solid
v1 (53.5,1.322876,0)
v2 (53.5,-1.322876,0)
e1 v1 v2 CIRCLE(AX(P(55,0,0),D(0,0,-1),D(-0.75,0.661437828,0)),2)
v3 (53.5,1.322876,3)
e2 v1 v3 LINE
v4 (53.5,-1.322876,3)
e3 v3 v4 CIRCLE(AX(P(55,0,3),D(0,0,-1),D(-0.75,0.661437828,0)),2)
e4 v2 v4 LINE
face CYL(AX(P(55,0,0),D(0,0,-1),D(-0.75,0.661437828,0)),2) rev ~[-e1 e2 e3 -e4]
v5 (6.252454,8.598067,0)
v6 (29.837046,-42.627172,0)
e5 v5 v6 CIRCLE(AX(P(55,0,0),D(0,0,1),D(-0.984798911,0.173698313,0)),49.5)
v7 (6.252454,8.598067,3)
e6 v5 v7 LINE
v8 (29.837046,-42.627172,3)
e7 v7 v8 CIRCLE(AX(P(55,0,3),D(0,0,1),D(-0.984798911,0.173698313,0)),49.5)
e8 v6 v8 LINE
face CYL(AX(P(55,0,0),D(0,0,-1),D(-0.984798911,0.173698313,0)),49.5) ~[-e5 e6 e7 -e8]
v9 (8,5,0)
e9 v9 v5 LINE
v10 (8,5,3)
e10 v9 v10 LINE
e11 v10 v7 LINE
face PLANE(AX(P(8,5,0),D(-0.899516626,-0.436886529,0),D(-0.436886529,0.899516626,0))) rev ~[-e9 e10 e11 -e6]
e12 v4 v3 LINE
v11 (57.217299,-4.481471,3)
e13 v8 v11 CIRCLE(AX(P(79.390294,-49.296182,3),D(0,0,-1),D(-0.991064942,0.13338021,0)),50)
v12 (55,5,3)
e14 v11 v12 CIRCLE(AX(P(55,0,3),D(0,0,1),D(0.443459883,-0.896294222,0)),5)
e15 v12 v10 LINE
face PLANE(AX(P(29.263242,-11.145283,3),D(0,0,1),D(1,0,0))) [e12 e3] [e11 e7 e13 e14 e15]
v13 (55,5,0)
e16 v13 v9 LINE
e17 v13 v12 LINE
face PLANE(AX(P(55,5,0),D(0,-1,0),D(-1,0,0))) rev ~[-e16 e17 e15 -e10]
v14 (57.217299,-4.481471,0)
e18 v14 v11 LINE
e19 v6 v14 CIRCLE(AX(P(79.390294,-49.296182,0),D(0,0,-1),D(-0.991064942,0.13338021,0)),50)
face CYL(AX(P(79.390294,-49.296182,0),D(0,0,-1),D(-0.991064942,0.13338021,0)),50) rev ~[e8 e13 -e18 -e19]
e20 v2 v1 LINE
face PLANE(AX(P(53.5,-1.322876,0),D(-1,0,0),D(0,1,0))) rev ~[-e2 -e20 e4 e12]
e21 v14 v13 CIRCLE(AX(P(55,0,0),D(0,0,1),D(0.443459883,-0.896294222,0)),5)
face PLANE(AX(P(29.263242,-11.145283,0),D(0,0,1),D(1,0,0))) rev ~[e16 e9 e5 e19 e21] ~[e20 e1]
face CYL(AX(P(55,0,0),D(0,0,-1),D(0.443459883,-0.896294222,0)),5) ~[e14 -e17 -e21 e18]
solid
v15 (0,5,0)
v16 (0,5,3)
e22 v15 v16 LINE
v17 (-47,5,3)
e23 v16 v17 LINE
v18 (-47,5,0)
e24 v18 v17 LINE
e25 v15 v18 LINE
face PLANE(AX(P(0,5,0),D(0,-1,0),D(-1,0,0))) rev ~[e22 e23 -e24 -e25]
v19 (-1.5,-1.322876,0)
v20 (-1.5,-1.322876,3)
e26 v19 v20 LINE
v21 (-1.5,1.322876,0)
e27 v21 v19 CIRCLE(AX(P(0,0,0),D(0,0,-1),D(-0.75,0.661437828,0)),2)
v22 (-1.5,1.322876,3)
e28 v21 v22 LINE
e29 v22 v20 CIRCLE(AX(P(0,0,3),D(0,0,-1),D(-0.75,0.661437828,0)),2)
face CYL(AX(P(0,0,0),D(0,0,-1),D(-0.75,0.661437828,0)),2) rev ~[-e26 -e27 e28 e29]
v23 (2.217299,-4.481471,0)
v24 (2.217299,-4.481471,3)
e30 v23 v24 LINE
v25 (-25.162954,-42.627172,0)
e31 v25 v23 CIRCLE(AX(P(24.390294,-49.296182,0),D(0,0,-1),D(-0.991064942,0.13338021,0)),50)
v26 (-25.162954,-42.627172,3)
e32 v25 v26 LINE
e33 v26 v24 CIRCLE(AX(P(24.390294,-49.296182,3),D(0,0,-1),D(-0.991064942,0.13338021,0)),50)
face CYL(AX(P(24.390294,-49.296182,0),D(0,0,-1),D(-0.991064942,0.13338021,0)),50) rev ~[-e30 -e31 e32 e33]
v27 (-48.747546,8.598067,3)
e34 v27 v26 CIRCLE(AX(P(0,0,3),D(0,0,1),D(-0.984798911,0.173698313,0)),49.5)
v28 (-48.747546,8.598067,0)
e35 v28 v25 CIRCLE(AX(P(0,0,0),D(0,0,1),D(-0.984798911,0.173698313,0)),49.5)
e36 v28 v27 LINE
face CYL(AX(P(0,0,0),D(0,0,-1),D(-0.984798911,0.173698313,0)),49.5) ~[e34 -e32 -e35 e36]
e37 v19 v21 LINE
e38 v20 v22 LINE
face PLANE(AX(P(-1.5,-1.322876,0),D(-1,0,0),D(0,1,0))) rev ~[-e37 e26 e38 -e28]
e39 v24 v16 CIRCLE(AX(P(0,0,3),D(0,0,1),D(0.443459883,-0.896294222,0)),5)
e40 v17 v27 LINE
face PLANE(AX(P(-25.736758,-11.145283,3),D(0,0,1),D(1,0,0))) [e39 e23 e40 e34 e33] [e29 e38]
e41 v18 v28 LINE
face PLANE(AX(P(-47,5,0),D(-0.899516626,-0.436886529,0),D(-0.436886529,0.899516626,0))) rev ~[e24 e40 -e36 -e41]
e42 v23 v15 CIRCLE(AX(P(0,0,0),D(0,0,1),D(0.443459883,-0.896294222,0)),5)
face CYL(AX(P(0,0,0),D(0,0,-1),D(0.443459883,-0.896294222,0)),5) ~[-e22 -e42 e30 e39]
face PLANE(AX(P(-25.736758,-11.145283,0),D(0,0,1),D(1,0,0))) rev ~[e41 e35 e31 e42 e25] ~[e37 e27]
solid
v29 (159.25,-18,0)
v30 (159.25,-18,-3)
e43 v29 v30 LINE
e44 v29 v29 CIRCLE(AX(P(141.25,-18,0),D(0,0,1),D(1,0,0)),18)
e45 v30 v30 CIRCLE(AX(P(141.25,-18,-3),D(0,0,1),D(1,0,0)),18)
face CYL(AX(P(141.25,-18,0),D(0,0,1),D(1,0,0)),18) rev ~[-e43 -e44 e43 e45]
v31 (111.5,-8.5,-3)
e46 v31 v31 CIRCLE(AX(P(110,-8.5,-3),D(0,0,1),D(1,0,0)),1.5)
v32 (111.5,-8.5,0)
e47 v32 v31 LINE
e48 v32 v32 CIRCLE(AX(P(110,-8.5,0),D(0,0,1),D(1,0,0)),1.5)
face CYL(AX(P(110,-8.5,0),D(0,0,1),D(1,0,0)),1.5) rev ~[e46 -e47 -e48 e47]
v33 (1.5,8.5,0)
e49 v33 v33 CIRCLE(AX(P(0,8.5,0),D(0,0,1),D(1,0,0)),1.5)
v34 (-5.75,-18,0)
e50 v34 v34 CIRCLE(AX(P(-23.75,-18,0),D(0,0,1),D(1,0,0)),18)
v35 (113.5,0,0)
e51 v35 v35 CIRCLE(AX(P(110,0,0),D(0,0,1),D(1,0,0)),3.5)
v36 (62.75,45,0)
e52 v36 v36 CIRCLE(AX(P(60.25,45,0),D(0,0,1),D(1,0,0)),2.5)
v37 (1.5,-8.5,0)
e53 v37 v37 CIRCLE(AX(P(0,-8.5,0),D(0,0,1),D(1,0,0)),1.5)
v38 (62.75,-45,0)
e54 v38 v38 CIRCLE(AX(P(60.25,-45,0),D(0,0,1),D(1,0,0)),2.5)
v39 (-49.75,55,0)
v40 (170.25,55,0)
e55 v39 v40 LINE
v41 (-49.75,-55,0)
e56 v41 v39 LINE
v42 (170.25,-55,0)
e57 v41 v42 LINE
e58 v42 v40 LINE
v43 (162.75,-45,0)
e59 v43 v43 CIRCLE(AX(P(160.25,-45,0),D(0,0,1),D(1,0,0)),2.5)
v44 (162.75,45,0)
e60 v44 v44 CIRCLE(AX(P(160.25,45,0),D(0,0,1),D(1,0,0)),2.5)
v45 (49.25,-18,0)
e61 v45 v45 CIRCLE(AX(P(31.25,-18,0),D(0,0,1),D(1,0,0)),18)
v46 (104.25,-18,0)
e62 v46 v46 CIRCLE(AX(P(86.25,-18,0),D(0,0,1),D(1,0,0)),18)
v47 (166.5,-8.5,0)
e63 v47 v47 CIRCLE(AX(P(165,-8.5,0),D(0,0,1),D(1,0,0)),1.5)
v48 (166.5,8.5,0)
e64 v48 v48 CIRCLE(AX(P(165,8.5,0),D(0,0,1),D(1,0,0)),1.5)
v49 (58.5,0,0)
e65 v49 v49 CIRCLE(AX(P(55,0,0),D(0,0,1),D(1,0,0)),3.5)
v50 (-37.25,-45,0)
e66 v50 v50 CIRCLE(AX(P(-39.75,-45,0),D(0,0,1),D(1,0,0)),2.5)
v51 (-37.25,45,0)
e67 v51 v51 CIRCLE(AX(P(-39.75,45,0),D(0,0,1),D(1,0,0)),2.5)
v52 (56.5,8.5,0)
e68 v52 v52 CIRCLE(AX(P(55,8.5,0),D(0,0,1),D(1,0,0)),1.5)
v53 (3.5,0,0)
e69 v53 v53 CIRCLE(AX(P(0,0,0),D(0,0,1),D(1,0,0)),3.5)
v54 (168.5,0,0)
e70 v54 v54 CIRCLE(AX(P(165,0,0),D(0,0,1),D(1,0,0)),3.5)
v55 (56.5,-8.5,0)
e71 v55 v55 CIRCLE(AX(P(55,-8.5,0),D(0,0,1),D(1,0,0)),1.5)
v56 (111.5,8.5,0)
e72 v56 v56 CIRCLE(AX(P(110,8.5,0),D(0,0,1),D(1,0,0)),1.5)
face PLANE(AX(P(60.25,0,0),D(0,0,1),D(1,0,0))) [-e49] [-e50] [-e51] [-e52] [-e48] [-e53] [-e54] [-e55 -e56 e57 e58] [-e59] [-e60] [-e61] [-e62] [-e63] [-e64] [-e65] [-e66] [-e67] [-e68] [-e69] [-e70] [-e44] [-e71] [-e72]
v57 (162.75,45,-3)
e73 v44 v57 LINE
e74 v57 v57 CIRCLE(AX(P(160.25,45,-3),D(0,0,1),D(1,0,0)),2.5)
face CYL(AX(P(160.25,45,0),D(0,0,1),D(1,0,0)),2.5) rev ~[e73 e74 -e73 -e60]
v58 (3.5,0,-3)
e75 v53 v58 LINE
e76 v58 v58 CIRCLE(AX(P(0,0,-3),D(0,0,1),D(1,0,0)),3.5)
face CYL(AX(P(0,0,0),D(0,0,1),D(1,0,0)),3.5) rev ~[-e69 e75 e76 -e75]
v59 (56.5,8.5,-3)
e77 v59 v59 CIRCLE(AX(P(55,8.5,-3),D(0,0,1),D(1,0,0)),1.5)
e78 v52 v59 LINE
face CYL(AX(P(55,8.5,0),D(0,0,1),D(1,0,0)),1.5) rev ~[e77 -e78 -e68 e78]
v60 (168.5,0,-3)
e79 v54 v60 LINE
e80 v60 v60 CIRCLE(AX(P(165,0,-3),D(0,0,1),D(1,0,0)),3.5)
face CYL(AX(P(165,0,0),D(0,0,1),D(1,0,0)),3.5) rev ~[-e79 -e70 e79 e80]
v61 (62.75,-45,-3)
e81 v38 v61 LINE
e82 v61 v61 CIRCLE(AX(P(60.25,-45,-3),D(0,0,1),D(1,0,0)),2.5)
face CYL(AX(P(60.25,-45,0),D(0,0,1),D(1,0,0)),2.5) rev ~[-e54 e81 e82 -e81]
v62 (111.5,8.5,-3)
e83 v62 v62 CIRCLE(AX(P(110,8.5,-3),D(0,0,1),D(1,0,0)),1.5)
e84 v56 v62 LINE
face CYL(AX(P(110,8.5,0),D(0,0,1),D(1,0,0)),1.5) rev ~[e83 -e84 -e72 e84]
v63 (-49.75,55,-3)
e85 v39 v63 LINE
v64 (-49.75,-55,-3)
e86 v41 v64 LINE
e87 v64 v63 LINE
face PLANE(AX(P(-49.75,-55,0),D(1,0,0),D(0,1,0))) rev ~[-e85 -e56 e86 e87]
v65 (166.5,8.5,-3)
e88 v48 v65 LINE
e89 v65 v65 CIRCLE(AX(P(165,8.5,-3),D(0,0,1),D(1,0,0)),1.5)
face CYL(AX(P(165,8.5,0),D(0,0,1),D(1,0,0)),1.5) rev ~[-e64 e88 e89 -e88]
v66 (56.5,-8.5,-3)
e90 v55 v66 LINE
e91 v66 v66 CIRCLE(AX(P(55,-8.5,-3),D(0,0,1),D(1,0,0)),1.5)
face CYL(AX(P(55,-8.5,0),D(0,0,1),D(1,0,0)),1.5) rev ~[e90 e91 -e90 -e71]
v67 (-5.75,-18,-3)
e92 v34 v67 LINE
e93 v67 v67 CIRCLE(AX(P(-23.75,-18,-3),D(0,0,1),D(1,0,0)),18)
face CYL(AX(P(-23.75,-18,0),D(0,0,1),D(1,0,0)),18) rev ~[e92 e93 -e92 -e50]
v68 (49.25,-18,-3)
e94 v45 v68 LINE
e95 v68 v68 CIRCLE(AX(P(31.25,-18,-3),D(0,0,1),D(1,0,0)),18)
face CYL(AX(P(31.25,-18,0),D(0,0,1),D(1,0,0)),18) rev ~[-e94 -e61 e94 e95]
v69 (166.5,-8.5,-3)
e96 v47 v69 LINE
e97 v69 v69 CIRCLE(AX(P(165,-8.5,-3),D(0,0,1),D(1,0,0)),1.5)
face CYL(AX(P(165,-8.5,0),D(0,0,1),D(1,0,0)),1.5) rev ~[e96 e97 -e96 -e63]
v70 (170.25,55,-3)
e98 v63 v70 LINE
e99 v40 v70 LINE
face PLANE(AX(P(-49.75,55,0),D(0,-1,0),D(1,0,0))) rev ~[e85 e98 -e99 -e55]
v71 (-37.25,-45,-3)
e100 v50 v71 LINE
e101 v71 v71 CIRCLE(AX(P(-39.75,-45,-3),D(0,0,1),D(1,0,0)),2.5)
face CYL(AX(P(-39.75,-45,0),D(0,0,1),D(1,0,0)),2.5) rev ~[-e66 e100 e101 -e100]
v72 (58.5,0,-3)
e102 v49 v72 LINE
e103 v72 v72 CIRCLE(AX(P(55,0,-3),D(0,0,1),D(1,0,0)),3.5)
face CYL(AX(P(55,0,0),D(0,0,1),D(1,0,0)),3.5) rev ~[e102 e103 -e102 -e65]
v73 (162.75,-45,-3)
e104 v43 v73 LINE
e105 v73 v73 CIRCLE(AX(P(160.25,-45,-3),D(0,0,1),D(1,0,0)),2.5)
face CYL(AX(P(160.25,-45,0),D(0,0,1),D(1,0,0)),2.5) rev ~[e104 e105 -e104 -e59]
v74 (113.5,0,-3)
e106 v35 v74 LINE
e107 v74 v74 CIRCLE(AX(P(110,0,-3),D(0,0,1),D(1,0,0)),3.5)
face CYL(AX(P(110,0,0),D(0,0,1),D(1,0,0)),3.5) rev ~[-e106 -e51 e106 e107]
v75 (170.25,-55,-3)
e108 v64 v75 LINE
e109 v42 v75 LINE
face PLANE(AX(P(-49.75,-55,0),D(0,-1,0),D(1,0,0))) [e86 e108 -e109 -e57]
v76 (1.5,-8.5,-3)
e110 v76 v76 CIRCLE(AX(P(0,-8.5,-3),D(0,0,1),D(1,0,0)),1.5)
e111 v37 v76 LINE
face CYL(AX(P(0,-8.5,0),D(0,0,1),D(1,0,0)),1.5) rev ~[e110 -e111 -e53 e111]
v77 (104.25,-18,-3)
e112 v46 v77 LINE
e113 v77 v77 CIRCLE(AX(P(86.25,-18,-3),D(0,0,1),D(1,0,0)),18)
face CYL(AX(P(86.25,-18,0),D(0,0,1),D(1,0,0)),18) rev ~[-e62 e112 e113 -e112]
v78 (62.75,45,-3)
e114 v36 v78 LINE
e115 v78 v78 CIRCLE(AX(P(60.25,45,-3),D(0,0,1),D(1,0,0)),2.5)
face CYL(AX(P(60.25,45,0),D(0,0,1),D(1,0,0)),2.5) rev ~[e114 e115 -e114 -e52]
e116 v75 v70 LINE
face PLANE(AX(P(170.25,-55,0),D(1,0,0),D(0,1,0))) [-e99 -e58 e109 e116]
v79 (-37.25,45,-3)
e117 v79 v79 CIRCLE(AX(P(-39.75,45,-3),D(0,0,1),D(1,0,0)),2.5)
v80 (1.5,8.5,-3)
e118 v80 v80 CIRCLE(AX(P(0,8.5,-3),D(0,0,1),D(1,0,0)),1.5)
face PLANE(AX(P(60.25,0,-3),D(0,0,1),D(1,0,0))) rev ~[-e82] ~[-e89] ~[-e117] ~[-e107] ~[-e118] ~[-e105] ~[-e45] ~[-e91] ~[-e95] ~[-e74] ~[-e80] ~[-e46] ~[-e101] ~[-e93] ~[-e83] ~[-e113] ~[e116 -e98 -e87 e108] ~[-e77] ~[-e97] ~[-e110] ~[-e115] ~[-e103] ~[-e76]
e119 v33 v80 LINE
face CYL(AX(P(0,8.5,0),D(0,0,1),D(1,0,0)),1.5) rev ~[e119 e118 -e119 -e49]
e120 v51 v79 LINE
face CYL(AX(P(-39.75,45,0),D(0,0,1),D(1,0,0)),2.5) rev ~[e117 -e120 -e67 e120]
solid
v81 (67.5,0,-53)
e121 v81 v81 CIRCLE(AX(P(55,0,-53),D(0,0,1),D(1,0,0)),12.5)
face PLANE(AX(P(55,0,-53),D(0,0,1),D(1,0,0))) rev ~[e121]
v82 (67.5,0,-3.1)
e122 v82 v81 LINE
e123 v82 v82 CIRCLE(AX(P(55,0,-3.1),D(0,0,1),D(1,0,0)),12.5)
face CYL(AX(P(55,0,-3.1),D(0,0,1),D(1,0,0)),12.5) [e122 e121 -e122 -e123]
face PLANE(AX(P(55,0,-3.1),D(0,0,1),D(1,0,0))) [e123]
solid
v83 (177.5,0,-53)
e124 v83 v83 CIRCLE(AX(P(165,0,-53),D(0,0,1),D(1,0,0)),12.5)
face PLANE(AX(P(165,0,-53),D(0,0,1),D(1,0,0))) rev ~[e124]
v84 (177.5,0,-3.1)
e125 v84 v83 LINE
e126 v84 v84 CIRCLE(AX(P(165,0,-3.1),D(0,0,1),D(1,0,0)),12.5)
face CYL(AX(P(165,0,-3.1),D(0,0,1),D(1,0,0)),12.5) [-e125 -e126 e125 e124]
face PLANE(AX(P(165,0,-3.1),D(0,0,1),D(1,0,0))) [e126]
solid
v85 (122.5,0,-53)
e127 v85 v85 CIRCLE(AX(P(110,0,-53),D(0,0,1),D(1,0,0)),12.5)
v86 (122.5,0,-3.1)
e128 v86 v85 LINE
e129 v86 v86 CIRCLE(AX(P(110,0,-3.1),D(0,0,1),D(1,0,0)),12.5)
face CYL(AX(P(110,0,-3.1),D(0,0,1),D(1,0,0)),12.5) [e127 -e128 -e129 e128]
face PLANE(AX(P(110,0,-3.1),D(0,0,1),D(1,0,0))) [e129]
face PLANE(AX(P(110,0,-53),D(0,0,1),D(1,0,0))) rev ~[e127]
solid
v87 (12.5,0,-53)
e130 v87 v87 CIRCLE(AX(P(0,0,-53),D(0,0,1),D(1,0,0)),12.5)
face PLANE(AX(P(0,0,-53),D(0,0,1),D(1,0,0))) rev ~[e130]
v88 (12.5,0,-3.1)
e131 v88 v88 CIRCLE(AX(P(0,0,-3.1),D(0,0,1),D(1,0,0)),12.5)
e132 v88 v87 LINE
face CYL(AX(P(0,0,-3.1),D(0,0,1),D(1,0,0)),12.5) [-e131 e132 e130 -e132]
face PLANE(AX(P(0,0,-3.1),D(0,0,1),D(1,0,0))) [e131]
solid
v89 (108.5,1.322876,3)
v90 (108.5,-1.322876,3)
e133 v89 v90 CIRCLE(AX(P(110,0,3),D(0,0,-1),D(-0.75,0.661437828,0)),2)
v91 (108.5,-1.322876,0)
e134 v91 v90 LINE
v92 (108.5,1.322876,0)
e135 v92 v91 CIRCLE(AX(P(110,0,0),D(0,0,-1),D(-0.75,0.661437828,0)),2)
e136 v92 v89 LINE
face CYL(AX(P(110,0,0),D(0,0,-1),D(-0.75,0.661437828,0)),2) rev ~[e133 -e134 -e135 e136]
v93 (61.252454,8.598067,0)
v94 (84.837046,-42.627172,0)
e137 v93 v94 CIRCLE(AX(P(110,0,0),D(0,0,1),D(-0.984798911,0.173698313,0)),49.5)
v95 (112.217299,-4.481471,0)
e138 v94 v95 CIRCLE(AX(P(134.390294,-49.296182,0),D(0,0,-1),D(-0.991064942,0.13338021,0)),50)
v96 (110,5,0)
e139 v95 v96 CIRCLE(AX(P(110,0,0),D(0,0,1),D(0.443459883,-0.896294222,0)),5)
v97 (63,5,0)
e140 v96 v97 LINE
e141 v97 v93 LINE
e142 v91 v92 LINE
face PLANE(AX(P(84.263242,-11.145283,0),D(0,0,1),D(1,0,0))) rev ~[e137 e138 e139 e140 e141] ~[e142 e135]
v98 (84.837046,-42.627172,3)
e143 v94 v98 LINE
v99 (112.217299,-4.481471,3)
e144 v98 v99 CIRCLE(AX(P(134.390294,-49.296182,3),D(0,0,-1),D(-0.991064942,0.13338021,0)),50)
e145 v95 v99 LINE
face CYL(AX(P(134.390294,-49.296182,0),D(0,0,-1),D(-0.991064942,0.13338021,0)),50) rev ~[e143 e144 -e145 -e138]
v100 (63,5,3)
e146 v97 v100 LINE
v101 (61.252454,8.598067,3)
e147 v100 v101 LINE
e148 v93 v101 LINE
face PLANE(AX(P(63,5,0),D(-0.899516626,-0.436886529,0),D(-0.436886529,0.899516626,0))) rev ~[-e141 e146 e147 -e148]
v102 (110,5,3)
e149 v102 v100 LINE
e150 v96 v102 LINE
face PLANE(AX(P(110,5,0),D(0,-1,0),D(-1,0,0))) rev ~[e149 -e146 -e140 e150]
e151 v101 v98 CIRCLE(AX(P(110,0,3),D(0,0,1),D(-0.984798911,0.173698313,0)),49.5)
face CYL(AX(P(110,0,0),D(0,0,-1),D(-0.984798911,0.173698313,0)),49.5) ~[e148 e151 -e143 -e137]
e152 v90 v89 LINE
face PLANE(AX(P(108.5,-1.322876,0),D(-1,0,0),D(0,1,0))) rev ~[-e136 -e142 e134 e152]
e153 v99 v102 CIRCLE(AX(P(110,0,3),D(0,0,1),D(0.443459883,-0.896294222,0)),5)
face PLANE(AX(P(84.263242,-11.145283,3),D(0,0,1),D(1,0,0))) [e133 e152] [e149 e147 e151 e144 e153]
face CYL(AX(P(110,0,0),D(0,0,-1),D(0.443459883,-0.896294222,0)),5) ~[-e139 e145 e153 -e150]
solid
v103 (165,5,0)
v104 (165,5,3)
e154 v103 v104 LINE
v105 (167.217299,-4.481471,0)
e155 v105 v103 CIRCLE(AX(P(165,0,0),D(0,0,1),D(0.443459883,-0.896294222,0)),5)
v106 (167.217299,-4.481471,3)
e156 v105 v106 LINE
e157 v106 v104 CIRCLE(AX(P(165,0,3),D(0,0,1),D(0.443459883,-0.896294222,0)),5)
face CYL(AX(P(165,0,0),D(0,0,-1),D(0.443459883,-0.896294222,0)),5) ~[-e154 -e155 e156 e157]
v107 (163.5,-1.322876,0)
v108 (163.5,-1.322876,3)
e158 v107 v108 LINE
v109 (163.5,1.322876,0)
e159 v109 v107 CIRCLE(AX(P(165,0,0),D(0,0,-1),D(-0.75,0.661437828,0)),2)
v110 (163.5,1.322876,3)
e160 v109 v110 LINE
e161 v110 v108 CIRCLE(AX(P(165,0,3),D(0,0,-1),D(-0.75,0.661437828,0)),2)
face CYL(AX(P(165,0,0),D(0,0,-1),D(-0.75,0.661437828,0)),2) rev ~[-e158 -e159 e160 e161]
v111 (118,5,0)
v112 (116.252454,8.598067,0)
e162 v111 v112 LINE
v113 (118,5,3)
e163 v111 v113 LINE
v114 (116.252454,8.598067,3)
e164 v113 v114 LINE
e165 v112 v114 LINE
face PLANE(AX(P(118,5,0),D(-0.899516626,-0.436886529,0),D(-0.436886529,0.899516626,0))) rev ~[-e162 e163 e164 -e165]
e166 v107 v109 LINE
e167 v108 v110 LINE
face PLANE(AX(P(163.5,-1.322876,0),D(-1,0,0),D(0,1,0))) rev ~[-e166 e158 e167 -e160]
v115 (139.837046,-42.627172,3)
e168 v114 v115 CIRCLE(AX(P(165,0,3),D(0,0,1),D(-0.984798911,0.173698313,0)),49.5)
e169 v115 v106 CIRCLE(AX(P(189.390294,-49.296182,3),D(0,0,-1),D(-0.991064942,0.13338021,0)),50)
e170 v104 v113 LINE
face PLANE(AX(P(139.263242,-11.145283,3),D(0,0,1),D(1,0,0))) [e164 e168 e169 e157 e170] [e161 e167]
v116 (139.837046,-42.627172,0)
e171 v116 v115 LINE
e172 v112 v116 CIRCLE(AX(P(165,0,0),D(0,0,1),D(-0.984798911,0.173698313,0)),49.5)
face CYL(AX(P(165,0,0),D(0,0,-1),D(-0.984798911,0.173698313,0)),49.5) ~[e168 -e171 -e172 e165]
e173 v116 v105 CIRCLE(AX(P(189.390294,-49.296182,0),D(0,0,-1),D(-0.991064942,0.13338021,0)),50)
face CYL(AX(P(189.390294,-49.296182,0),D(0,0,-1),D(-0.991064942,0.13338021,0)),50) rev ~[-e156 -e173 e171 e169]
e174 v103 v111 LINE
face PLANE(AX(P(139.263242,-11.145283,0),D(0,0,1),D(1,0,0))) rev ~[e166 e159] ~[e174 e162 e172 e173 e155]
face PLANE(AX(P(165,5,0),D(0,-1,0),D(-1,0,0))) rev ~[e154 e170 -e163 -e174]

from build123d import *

# Parameters (mm, degrees)
F3_DEPTH = 3
F1_W     = 220
F1_H     = 110
F1_R     = 2.5
F1_R_2   = 18
F1_R_3   = 1.5
F1_R_4   = 3.5
F4_DEPTH = 3
F5_START = -3.1
F2_R     = 12.5
F5_DEPTH = 49.9


with BuildPart() as f3:
    # F0 (on Top) → F3 (new body)
    with BuildSketch(Plane.XY):
        with BuildLine():
            Line((-47, 5), (-48.7475461165, 8.5980665045))
            ThreePointArc((-48.7475461165, 8.5980665045), (-44.9632822197, -20.7015277704), (-25.1629535503, -42.6271717174))
            ThreePointArc((-25.1629535503, -42.6271717174), (-16.2291234704, -20.1403429939), (2.2172994145, -4.4814711096))
            ThreePointArc((2.2172994145, -4.4814711096), (4.8686422927, 1.1385614722), (0, 5))
            Line((0, 5), (-47, 5))
        make_face()
        with BuildLine():
            Line((-1.5, -1.3228756555), (-1.5, 1.3228756555))
            ThreePointArc((-1.5, 1.3228756555), (2, 0), (-1.5, -1.3228756555))
        make_face(mode=Mode.SUBTRACT)
    extrude(amount=F3_DEPTH)


with BuildPart() as f3b:
    # F0 (on Top) → F3, piece 2 (new body)
    with BuildSketch(Plane.XY):
        with BuildLine():
            ThreePointArc((29.8370464497, -42.6271717174), (38.7708765296, -20.1403429939), (57.2172994145, -4.4814711096))
            ThreePointArc((57.2172994145, -4.4814711096), (59.8686422927, 1.1385614722), (55, 5))
            Line((55, 5), (8, 5))
            Line((8, 5), (6.2524538835, 8.5980665045))
            ThreePointArc((6.2524538835, 8.5980665045), (10.0367177803, -20.7015277704), (29.8370464497, -42.6271717174))
        make_face()
        with BuildLine():
            Line((53.5, -1.3228756555), (53.5, 1.3228756555))
            ThreePointArc((53.5, 1.3228756555), (57, 0), (53.5, -1.3228756555))
        make_face(mode=Mode.SUBTRACT)
    extrude(amount=F3_DEPTH)


with BuildPart() as f3c:
    # F0 (on Top) → F3, piece 3 (new body)
    with BuildSketch(Plane.XY):
        with BuildLine():
            ThreePointArc((84.8370464497, -42.6271717174), (93.7708765296, -20.1403429939), (112.2172994145, -4.4814711096))
            ThreePointArc((112.2172994145, -4.4814711096), (114.8686422927, 1.1385614722), (110, 5))
            Line((110, 5), (63, 5))
            Line((63, 5), (61.2524538835, 8.5980665045))
            ThreePointArc((61.2524538835, 8.5980665045), (65.0367177803, -20.7015277704), (84.8370464497, -42.6271717174))
        make_face()
        with BuildLine():
            Line((108.5, -1.3228756555), (108.5, 1.3228756555))
            ThreePointArc((108.5, 1.3228756555), (112, 0), (108.5, -1.3228756555))
        make_face(mode=Mode.SUBTRACT)
    extrude(amount=F3_DEPTH)


with BuildPart() as f3d:
    # F0 (on Top) → F3, piece 4 (new body)
    with BuildSketch(Plane.XY):
        with BuildLine():
            ThreePointArc((139.8370464497, -42.6271717174), (148.7708765296, -20.1403429939), (167.2172994145, -4.4814711096))
            ThreePointArc((167.2172994145, -4.4814711096), (169.8686422927, 1.1385614722), (165, 5))
            Line((165, 5), (118, 5))
            Line((118, 5), (116.2524538835, 8.5980665045))
            ThreePointArc((116.2524538835, 8.5980665045), (120.0367177803, -20.7015277704), (139.8370464497, -42.6271717174))
        make_face()
        with BuildLine():
            Line((163.5, -1.3228756555), (163.5, 1.3228756555))
            ThreePointArc((163.5, 1.3228756555), (167, 0), (163.5, -1.3228756555))
        make_face(mode=Mode.SUBTRACT)
    extrude(amount=F3_DEPTH)


with BuildPart() as f4:
    # F1 (on Top) → F4 (new body)
    with BuildSketch(Plane.XY):
        with Locations((60.25, 0)):
            Rectangle(F1_W, F1_H)
        with Locations((-39.75, -45)):
            Circle(F1_R, mode=Mode.SUBTRACT)
        with Locations((-23.75, -18)):
            Circle(F1_R_2, mode=Mode.SUBTRACT)
        with Locations((0, -8.5)):
            Circle(F1_R_3, mode=Mode.SUBTRACT)
        with Locations((31.25, -18)):
            Circle(F1_R_2, mode=Mode.SUBTRACT)
        with Locations((55, -8.5)):
            Circle(F1_R_3, mode=Mode.SUBTRACT)
        with Locations((60.25, -45)):
            Circle(F1_R, mode=Mode.SUBTRACT)
        with Locations((160.25, -45)):
            Circle(F1_R, mode=Mode.SUBTRACT)
        with Locations((86.25, -18)):
            Circle(F1_R_2, mode=Mode.SUBTRACT)
        with Locations((110, -8.5)):
            Circle(F1_R_3, mode=Mode.SUBTRACT)
        with Locations((141.25, -18)):
            Circle(F1_R_2, mode=Mode.SUBTRACT)
        with Locations((165, -8.5)):
            Circle(F1_R_3, mode=Mode.SUBTRACT)
        Circle(F1_R_4, mode=Mode.SUBTRACT)
        with Locations((0, 8.5)):
            Circle(F1_R_3, mode=Mode.SUBTRACT)
        with Locations((55, 0)):
            Circle(F1_R_4, mode=Mode.SUBTRACT)
        with Locations((55, 8.5)):
            Circle(F1_R_3, mode=Mode.SUBTRACT)
        with Locations((-39.75, 45)):
            Circle(F1_R, mode=Mode.SUBTRACT)
        with Locations((110, 0)):
            Circle(F1_R_4, mode=Mode.SUBTRACT)
        with Locations((110, 8.5)):
            Circle(F1_R_3, mode=Mode.SUBTRACT)
        with Locations((165, 0)):
            Circle(F1_R_4, mode=Mode.SUBTRACT)
        with Locations((165, 8.5)):
            Circle(F1_R_3, mode=Mode.SUBTRACT)
        with Locations((60.25, 45)):
            Circle(F1_R, mode=Mode.SUBTRACT)
        with Locations((160.25, 45)):
            Circle(F1_R, mode=Mode.SUBTRACT)
    extrude(amount=-F4_DEPTH)


with BuildPart() as f5:
    # F2 (on Top) → F5 (new body)
    with BuildSketch(Plane.XY.offset(F5_START)):
        Circle(F2_R)
    extrude(amount=-F5_DEPTH)


with BuildPart() as f5b:
    # F2 (on Top) → F5, piece 2 (new body)
    with BuildSketch(Plane.XY.offset(F5_START)):
        with Locations((55, 0)):
            Circle(F2_R)
    extrude(amount=-F5_DEPTH)


with BuildPart() as f5c:
    # F2 (on Top) → F5, piece 3 (new body)
    with BuildSketch(Plane.XY.offset(F5_START)):
        with Locations((110, 0)):
            Circle(F2_R)
    extrude(amount=-F5_DEPTH)


with BuildPart() as f5d:
    # F2 (on Top) → F5, piece 4 (new body)
    with BuildSketch(Plane.XY.offset(F5_START)):
        with Locations((165, 0)):
            Circle(F2_R)
    extrude(amount=-F5_DEPTH)


solid = Compound([f3.part, f3b.part, f3c.part, f3d.part, f4.part, f5.part, f5b.part, f5c.part, f5d.part])
